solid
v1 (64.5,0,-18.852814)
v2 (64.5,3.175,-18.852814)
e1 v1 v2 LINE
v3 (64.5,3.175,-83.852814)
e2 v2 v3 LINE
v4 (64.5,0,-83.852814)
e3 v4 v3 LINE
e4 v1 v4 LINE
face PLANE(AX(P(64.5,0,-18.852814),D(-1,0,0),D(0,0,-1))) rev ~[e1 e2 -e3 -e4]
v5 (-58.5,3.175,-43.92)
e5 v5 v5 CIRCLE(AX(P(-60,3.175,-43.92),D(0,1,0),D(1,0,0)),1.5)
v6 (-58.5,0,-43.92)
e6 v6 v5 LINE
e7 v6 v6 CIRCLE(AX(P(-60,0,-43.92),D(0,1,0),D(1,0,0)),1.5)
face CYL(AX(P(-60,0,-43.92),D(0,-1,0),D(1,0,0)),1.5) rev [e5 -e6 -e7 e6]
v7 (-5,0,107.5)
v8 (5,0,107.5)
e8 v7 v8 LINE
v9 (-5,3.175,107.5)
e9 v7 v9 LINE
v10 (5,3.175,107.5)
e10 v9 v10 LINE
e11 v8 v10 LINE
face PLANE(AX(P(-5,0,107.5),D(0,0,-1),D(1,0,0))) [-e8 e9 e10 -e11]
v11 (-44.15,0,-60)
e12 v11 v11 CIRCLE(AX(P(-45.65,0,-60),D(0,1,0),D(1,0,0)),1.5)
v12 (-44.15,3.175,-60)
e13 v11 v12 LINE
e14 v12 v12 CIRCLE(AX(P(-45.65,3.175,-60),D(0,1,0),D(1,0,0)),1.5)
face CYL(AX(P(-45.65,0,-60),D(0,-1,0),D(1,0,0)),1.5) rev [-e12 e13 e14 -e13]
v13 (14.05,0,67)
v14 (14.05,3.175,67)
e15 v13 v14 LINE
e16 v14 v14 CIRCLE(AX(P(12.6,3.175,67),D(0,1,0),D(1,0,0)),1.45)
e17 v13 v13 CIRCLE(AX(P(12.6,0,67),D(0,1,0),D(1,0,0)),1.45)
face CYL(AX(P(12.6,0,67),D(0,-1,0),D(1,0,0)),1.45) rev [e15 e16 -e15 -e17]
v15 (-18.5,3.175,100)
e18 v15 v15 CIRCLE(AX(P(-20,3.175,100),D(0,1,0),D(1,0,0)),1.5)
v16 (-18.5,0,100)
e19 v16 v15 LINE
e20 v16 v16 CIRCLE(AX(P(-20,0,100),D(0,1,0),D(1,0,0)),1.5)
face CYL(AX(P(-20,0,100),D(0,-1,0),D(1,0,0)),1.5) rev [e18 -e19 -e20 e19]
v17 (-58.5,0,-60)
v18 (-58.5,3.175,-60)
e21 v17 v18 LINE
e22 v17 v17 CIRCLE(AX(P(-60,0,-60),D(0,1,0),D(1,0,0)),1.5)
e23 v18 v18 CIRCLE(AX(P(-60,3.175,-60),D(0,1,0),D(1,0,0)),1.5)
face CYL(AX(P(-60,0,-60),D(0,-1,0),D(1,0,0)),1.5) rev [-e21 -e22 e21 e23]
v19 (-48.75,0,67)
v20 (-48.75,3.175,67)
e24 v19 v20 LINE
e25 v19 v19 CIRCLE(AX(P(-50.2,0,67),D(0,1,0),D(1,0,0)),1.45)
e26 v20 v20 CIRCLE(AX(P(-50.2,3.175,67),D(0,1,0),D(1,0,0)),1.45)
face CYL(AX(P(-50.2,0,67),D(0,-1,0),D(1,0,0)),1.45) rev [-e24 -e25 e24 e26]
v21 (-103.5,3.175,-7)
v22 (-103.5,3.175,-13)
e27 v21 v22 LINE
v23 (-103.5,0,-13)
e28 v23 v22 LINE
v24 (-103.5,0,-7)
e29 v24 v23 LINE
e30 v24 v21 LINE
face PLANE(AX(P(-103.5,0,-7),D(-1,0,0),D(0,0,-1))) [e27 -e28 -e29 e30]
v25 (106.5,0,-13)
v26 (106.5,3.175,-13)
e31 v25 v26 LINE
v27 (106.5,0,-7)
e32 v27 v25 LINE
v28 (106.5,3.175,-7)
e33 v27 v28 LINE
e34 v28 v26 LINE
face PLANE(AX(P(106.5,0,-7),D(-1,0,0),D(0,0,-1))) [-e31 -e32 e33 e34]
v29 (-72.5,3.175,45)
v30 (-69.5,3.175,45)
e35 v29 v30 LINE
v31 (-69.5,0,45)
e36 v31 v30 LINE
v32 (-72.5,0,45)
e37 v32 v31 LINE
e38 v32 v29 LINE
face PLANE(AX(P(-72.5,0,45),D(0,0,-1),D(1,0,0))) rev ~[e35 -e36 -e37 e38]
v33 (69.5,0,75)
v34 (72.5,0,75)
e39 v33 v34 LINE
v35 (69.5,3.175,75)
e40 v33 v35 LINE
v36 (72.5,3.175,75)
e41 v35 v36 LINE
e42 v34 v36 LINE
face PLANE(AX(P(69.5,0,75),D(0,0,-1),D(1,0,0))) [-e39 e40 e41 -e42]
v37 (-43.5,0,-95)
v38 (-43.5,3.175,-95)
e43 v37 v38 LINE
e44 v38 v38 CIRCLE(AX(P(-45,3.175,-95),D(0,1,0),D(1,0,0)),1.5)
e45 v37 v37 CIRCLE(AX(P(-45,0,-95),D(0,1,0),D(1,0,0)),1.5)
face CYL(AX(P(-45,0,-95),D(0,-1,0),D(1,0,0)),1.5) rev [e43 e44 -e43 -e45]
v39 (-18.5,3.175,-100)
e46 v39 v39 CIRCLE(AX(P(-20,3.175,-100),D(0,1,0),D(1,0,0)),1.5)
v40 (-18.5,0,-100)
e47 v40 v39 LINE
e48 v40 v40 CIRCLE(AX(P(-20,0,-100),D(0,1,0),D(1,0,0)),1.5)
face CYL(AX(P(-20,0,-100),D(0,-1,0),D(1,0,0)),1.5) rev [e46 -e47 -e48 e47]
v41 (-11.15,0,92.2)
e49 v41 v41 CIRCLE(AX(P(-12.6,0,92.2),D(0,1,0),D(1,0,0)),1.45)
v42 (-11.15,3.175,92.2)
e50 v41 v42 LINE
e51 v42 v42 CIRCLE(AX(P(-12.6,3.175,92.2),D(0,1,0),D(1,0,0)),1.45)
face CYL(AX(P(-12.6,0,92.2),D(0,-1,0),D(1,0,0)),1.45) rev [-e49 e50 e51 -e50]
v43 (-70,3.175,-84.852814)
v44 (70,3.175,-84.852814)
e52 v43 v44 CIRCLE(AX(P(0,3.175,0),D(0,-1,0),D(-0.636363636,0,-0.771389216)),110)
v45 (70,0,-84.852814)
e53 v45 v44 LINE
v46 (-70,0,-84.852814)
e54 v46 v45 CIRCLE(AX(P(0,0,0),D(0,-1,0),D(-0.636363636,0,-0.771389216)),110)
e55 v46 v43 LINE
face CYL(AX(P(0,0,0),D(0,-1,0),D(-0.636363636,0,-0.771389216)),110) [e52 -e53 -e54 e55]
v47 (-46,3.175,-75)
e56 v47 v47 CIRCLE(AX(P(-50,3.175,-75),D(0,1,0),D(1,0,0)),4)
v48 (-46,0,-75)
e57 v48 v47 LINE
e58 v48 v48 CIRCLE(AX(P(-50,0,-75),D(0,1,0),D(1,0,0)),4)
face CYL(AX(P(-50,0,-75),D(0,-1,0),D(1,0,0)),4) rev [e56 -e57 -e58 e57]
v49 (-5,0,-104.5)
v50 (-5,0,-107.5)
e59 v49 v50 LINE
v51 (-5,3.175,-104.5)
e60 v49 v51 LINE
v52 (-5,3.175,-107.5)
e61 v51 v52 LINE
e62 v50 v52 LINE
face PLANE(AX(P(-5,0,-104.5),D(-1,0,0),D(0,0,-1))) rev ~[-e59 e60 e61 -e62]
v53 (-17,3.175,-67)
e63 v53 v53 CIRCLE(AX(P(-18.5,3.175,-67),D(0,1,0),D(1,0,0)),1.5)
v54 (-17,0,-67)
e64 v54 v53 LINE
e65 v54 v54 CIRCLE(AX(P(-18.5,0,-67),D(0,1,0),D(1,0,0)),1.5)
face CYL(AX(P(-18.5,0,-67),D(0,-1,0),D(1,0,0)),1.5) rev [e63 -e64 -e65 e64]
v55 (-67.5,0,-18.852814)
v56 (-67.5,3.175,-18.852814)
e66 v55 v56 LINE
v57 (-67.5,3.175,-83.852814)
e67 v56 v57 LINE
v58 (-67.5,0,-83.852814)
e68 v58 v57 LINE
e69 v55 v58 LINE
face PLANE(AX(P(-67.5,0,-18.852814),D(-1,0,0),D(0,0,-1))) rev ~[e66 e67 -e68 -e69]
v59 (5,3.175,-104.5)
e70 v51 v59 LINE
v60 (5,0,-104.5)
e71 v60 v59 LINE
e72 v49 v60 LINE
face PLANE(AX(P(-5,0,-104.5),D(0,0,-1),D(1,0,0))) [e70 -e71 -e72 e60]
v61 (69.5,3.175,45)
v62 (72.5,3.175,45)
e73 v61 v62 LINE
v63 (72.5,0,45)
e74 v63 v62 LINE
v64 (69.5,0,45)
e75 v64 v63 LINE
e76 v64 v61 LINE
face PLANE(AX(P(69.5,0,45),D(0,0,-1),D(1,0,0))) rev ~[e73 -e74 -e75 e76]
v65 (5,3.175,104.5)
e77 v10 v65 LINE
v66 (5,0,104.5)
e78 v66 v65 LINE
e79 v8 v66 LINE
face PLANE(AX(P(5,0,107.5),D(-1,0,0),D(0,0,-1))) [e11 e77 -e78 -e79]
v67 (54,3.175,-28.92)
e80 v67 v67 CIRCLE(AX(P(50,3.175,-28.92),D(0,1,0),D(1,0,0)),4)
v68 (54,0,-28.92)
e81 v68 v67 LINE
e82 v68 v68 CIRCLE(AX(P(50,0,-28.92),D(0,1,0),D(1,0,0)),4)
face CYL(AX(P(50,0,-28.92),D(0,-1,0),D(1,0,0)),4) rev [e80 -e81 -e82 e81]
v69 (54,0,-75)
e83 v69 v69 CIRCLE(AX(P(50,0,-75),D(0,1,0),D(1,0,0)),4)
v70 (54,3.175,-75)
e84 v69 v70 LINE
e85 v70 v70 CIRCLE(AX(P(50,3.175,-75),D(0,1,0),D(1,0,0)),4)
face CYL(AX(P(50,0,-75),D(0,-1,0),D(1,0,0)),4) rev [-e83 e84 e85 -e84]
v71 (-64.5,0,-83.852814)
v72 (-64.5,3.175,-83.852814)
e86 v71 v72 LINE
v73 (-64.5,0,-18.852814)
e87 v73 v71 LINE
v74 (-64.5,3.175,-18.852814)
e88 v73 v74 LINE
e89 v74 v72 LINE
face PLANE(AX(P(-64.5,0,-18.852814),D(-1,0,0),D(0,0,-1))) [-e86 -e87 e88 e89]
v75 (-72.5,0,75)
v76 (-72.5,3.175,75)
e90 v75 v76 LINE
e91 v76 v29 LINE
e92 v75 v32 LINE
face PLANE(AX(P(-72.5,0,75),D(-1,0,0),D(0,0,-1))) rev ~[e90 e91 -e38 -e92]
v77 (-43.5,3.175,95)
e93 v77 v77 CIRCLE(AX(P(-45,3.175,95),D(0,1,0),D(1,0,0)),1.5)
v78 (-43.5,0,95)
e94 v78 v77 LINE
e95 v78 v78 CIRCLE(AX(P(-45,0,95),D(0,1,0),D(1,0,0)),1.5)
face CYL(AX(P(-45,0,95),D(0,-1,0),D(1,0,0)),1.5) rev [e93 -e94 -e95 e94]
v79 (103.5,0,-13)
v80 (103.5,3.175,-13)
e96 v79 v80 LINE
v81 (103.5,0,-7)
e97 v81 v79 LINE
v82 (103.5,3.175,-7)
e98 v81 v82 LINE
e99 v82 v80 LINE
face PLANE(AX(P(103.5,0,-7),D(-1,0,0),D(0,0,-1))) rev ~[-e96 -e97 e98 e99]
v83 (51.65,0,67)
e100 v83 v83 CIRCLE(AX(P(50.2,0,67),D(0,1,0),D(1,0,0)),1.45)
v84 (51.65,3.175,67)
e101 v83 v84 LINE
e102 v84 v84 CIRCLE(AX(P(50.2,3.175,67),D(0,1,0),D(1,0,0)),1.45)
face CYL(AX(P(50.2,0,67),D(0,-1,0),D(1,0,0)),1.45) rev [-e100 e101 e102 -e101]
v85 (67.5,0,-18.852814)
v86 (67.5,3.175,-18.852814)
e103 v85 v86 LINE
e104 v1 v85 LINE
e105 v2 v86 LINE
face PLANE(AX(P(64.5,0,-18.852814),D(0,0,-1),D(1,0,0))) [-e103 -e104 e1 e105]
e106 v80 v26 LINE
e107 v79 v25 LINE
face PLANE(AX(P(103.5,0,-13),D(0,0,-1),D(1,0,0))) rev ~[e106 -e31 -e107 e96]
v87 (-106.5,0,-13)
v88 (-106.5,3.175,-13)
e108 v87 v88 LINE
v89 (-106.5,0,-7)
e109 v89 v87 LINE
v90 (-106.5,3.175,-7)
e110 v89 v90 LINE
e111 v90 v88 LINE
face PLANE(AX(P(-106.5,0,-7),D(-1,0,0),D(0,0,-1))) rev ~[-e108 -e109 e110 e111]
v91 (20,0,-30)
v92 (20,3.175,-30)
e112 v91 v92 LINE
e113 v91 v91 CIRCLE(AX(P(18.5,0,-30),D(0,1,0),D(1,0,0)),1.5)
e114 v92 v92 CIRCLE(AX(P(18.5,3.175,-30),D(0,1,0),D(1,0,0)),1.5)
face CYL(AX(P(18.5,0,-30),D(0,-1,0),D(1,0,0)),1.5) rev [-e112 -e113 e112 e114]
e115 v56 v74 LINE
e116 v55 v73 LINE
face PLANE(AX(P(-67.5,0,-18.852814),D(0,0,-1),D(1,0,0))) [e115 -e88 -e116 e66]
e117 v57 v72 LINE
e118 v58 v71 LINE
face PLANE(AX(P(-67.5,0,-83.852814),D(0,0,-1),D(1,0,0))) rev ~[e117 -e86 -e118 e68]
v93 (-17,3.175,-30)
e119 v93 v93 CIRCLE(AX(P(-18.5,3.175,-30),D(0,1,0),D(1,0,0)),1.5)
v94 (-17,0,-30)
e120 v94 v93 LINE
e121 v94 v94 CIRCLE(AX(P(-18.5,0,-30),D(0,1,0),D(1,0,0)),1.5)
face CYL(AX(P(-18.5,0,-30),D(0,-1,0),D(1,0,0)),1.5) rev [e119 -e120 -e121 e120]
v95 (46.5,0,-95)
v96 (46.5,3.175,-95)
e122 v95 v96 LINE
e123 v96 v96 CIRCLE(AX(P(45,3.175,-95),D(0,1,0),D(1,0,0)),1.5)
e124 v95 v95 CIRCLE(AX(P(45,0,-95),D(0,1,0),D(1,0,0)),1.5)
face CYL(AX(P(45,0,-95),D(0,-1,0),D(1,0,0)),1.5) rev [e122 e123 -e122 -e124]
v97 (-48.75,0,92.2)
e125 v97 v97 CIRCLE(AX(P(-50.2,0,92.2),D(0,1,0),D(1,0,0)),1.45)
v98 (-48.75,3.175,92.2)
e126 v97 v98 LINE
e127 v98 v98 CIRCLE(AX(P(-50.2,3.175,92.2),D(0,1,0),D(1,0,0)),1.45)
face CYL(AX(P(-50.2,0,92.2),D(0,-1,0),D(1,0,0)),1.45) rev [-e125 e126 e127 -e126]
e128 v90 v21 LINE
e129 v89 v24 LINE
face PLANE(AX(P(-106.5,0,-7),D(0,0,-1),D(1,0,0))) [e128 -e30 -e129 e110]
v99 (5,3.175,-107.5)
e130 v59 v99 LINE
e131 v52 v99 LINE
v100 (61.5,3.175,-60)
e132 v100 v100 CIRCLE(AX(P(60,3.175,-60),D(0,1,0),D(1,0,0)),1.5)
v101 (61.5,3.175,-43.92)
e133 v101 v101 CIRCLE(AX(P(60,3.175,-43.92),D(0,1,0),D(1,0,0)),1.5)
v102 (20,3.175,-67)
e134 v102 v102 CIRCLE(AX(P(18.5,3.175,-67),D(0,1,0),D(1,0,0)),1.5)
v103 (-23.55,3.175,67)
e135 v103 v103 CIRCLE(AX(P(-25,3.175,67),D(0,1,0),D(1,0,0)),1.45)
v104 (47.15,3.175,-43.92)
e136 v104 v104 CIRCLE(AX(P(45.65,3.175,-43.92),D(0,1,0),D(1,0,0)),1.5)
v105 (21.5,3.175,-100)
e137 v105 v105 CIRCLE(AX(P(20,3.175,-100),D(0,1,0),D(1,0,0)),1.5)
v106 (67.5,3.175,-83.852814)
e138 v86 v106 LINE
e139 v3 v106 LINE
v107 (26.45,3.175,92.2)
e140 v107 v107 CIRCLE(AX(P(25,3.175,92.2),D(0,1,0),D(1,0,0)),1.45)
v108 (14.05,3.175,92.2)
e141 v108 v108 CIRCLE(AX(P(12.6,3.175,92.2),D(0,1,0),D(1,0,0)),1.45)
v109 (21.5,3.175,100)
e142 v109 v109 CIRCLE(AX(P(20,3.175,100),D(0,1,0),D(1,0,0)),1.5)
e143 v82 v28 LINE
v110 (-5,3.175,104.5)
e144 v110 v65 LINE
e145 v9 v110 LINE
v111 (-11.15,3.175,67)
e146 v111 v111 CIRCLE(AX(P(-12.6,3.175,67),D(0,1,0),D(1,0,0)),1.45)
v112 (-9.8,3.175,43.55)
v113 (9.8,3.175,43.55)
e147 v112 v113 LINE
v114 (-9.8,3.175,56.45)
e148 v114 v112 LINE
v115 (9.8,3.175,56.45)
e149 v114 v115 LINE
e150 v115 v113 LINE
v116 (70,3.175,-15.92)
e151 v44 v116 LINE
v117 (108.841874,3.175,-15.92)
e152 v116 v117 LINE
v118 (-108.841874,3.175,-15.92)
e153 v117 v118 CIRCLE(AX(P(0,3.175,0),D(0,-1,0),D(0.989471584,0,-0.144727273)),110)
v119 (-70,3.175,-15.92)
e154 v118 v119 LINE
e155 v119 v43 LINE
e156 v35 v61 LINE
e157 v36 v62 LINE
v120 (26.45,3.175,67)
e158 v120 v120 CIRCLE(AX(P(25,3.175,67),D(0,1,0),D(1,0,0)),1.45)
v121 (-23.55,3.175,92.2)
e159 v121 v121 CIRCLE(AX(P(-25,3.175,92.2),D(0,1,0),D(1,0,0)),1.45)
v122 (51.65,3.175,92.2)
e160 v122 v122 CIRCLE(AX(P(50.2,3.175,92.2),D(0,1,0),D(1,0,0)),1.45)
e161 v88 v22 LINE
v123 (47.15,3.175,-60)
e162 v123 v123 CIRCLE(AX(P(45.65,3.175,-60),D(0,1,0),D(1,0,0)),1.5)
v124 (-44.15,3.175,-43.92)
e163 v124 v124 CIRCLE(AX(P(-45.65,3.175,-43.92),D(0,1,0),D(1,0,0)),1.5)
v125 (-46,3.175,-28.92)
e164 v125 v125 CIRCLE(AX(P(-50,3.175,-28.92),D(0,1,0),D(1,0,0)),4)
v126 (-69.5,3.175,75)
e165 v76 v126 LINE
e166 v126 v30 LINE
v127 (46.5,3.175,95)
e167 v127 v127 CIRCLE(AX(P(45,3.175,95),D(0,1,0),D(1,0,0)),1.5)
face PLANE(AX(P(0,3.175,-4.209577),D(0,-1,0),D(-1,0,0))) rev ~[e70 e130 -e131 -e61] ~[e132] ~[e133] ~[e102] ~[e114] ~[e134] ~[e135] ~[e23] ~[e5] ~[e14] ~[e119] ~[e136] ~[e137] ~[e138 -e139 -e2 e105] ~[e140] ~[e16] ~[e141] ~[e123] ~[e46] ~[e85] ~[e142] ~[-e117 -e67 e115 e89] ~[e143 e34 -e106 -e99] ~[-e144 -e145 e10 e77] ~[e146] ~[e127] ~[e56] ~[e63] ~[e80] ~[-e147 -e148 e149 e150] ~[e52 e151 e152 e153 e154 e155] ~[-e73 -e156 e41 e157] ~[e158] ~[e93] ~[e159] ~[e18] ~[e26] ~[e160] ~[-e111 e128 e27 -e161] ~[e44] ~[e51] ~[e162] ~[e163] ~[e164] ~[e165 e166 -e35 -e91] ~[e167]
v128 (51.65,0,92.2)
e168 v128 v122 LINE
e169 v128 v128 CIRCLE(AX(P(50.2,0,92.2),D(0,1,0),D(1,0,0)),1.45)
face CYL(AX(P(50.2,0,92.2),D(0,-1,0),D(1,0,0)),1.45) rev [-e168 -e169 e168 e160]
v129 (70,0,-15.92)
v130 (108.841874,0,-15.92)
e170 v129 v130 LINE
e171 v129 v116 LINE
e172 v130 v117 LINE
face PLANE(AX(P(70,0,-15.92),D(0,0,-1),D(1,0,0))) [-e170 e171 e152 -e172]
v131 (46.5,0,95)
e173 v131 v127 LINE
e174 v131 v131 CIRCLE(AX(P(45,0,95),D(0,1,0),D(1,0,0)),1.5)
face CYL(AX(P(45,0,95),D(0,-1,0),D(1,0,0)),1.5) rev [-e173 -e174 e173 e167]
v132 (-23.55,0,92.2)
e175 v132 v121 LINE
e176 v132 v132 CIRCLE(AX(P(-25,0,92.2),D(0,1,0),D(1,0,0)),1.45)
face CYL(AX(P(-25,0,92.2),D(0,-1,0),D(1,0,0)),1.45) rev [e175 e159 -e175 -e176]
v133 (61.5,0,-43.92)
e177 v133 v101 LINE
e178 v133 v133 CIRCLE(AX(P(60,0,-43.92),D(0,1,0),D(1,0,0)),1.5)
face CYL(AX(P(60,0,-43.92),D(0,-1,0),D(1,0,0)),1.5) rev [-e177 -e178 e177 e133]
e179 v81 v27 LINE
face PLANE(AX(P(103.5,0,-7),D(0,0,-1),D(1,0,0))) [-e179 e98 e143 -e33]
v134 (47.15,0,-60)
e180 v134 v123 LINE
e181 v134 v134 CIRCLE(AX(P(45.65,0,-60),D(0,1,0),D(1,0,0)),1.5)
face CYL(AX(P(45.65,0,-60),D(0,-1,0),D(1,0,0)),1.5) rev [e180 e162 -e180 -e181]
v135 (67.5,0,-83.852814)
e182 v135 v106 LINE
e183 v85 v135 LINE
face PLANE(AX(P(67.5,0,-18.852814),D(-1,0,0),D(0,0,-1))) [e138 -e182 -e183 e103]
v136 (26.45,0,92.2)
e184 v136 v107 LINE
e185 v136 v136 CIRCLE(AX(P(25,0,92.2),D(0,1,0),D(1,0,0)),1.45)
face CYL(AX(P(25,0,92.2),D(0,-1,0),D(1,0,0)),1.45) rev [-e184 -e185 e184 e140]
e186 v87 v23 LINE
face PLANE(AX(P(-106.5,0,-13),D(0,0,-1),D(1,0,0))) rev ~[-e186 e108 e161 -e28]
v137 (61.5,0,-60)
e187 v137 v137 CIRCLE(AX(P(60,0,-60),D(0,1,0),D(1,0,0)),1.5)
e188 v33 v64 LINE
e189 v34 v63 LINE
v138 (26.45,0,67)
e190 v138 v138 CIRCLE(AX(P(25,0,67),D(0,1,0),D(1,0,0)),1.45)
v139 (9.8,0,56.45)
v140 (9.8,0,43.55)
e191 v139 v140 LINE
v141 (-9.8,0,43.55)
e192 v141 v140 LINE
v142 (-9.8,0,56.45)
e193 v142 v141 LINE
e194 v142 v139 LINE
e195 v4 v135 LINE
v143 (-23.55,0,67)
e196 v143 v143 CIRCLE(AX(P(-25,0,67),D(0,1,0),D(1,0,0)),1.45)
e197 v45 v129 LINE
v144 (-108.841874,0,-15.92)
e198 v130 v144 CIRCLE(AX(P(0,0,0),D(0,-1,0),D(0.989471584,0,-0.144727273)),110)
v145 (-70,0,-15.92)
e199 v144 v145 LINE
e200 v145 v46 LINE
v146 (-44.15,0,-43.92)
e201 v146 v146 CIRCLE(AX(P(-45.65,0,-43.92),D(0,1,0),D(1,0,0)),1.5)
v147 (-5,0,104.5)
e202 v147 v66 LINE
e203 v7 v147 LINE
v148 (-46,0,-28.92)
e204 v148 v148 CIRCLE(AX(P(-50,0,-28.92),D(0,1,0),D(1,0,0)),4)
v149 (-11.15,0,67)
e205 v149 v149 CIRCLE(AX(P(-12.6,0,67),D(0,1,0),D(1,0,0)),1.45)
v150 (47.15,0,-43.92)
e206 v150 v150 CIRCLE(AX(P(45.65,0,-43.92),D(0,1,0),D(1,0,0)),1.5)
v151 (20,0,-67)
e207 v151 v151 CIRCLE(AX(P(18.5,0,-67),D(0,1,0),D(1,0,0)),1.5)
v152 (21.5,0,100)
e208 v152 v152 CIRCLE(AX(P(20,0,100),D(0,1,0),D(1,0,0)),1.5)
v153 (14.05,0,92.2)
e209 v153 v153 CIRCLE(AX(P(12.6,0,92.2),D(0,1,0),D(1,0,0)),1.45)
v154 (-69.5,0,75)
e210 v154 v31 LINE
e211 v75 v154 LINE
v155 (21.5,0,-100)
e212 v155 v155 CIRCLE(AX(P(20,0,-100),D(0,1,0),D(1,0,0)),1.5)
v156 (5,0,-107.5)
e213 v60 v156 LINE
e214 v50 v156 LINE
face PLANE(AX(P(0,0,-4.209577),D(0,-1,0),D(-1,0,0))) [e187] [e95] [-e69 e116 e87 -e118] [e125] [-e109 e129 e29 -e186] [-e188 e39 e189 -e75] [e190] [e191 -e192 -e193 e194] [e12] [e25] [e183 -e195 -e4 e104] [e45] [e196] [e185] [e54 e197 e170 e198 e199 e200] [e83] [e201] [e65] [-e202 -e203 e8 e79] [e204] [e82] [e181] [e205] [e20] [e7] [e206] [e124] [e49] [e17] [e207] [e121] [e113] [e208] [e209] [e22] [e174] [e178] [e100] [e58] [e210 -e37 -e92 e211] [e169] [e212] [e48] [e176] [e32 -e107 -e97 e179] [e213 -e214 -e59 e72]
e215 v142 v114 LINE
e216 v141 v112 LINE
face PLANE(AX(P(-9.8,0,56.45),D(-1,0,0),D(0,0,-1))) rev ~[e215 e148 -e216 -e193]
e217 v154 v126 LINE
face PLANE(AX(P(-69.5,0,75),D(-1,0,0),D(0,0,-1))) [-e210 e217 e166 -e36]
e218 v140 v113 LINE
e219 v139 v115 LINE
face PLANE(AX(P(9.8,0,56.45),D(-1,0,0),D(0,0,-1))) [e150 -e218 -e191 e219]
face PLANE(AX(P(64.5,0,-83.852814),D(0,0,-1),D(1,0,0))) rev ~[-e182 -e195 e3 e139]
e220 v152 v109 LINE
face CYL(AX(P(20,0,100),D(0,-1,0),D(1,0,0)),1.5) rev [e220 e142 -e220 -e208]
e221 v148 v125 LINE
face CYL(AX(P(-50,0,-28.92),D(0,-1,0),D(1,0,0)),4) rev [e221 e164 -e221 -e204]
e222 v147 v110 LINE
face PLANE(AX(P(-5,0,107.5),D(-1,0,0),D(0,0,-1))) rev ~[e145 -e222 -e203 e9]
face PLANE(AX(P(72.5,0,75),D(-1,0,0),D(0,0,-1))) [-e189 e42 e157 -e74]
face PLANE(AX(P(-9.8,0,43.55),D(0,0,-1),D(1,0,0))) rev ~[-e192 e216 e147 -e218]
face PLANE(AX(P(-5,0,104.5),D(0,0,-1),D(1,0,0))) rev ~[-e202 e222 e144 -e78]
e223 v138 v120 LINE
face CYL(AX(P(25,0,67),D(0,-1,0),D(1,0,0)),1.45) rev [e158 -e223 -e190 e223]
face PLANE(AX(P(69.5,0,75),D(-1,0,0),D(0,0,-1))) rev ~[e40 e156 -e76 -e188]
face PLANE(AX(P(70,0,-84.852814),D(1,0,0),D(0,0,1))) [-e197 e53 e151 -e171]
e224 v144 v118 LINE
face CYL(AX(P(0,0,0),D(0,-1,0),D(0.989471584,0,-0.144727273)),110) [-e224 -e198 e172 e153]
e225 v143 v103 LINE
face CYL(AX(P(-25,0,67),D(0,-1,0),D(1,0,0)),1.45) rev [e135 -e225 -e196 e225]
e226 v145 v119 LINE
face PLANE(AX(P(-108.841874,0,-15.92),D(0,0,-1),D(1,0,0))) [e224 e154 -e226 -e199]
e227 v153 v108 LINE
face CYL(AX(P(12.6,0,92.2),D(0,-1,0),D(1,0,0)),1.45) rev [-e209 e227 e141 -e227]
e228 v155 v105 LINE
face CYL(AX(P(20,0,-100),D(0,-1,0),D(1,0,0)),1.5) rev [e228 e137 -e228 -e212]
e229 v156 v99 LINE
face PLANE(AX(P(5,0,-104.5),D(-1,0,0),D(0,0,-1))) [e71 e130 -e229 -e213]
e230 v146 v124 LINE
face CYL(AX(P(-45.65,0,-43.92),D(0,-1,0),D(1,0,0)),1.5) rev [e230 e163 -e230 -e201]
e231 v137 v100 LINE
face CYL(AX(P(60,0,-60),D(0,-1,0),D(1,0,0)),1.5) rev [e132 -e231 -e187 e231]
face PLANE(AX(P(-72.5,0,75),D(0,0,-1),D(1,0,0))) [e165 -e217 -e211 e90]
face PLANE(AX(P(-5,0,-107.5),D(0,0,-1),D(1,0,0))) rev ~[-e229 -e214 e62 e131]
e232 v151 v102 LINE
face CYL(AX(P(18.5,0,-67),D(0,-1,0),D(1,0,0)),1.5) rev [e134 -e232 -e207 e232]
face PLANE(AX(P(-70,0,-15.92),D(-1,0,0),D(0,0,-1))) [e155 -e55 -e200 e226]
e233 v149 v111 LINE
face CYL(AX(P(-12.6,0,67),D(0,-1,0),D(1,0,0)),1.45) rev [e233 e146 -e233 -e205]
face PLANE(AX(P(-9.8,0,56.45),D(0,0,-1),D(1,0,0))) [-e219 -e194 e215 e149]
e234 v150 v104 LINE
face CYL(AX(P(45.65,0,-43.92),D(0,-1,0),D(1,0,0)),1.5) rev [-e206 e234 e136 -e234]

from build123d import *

# Parameters (mm, degrees)
SKETCH_1_R   = 1.5
SKETCH_1_R_2 = 4
SKETCH_1_R_3 = 1.45
SKETCH_1_W   = 10
SKETCH_1_H   = 3
SKETCH_1_W_2 = 19.6
SKETCH_1_H_2 = 12.9
SKETCH_1_W_3 = 3
SKETCH_1_H_3 = 6
SKETCH_1_H_4 = 65
SKETCH_1_H_5 = 30
BASE_DEPTH   = 3.175


with BuildPart() as part:
    # 草图1 → Base (new body)
    with BuildSketch(Plane(origin=(0, 0, 0), x_dir=(1, 0, 0), z_dir=(0, 1, 0))):
        with BuildLine():
            Line((-108.841874295, 15.92), (-70, 15.92))
            Line((-70, 15.92), (-70, 84.852813742))
            ThreePointArc((-70, 84.852813742), (0, 110), (70, 84.852813742))
            Line((70, 84.852813742), (70, 15.92))
            Line((70, 15.92), (108.841874295, 15.92))
            ThreePointArc((108.841874295, 15.92), (0, -110), (-108.841874295, 15.92))
        make_face()
        with Locations((-60, 43.92)):
            Circle(SKETCH_1_R, mode=Mode.SUBTRACT)
        with Locations((-60, 60)):
            Circle(SKETCH_1_R, mode=Mode.SUBTRACT)
        with Locations((-45.65, 60)):
            Circle(SKETCH_1_R, mode=Mode.SUBTRACT)
        with Locations((-45.65, 43.92)):
            Circle(SKETCH_1_R, mode=Mode.SUBTRACT)
        with Locations((60, 60)):
            Circle(SKETCH_1_R, mode=Mode.SUBTRACT)
        with Locations((45.65, 60)):
            Circle(SKETCH_1_R, mode=Mode.SUBTRACT)
        with Locations((45.65, 43.92)):
            Circle(SKETCH_1_R, mode=Mode.SUBTRACT)
        with Locations((60, 43.92)):
            Circle(SKETCH_1_R, mode=Mode.SUBTRACT)
        with Locations((-20, -100)):
            Circle(SKETCH_1_R, mode=Mode.SUBTRACT)
        with Locations((20, -100)):
            Circle(SKETCH_1_R, mode=Mode.SUBTRACT)
        with Locations((20, 100)):
            Circle(SKETCH_1_R, mode=Mode.SUBTRACT)
        with Locations((-20, 100)):
            Circle(SKETCH_1_R, mode=Mode.SUBTRACT)
        with Locations((-50, 75)):
            Circle(SKETCH_1_R_2, mode=Mode.SUBTRACT)
        with Locations((50, 75)):
            Circle(SKETCH_1_R_2, mode=Mode.SUBTRACT)
        with Locations((-18.5, 67)):
            Circle(SKETCH_1_R, mode=Mode.SUBTRACT)
        with Locations((-18.5, 30)):
            Circle(SKETCH_1_R, mode=Mode.SUBTRACT)
        with Locations((18.5, 30)):
            Circle(SKETCH_1_R, mode=Mode.SUBTRACT)
        with Locations((18.5, 67)):
            Circle(SKETCH_1_R, mode=Mode.SUBTRACT)
        with Locations((-12.6, -67)):
            Circle(SKETCH_1_R_3, mode=Mode.SUBTRACT)
        with Locations((-12.6, -92.2)):
            Circle(SKETCH_1_R_3, mode=Mode.SUBTRACT)
        with Locations((12.6, -92.2)):
            Circle(SKETCH_1_R_3, mode=Mode.SUBTRACT)
        with Locations((12.6, -67)):
            Circle(SKETCH_1_R_3, mode=Mode.SUBTRACT)
        with Locations((-45, 95)):
            Circle(SKETCH_1_R, mode=Mode.SUBTRACT)
        with Locations((45, 95)):
            Circle(SKETCH_1_R, mode=Mode.SUBTRACT)
        with Locations((45, -95)):
            Circle(SKETCH_1_R, mode=Mode.SUBTRACT)
        with Locations((-45, -95)):
            Circle(SKETCH_1_R, mode=Mode.SUBTRACT)
        with Locations((-50.2, -67)):
            Circle(SKETCH_1_R_3, mode=Mode.SUBTRACT)
        with Locations((-50.2, -92.2)):
            Circle(SKETCH_1_R_3, mode=Mode.SUBTRACT)
        with Locations((-25, -67)):
            Circle(SKETCH_1_R_3, mode=Mode.SUBTRACT)
        with Locations((-25, -92.2)):
            Circle(SKETCH_1_R_3, mode=Mode.SUBTRACT)
        with Locations((50.2, -92.2)):
            Circle(SKETCH_1_R_3, mode=Mode.SUBTRACT)
        with Locations((25, -92.2)):
            Circle(SKETCH_1_R_3, mode=Mode.SUBTRACT)
        with Locations((25, -67)):
            Circle(SKETCH_1_R_3, mode=Mode.SUBTRACT)
        with Locations((50.2, -67)):
            Circle(SKETCH_1_R_3, mode=Mode.SUBTRACT)
        with Locations((-50, 28.92)):
            Circle(SKETCH_1_R_2, mode=Mode.SUBTRACT)
        with Locations((50, 28.92)):
            Circle(SKETCH_1_R_2, mode=Mode.SUBTRACT)
        with Locations((0, -106)):
            Rectangle(SKETCH_1_W, SKETCH_1_H, mode=Mode.SUBTRACT)
        with Locations((0, -50)):
            Rectangle(SKETCH_1_W_2, SKETCH_1_H_2, mode=Mode.SUBTRACT)
        with Locations((0, 106)):
            Rectangle(SKETCH_1_W, SKETCH_1_H, mode=Mode.SUBTRACT)
        with Locations((105, 10)):
            Rectangle(SKETCH_1_W_3, SKETCH_1_H_3, mode=Mode.SUBTRACT)
        with Locations((-105, 10)):
            Rectangle(SKETCH_1_W_3, SKETCH_1_H_3, mode=Mode.SUBTRACT)
        with Locations((66, 51.352813742)):
            Rectangle(SKETCH_1_W_3, SKETCH_1_H_4, mode=Mode.SUBTRACT)
        with Locations((-66, 51.352813742)):
            Rectangle(SKETCH_1_W_3, SKETCH_1_H_4, mode=Mode.SUBTRACT)
        with Locations((71, -60)):
            Rectangle(SKETCH_1_W_3, SKETCH_1_H_5, mode=Mode.SUBTRACT)
        with Locations((-71, -60)):
            Rectangle(SKETCH_1_W_3, SKETCH_1_H_5, mode=Mode.SUBTRACT)
    extrude(amount=BASE_DEPTH)


solid = part.part
